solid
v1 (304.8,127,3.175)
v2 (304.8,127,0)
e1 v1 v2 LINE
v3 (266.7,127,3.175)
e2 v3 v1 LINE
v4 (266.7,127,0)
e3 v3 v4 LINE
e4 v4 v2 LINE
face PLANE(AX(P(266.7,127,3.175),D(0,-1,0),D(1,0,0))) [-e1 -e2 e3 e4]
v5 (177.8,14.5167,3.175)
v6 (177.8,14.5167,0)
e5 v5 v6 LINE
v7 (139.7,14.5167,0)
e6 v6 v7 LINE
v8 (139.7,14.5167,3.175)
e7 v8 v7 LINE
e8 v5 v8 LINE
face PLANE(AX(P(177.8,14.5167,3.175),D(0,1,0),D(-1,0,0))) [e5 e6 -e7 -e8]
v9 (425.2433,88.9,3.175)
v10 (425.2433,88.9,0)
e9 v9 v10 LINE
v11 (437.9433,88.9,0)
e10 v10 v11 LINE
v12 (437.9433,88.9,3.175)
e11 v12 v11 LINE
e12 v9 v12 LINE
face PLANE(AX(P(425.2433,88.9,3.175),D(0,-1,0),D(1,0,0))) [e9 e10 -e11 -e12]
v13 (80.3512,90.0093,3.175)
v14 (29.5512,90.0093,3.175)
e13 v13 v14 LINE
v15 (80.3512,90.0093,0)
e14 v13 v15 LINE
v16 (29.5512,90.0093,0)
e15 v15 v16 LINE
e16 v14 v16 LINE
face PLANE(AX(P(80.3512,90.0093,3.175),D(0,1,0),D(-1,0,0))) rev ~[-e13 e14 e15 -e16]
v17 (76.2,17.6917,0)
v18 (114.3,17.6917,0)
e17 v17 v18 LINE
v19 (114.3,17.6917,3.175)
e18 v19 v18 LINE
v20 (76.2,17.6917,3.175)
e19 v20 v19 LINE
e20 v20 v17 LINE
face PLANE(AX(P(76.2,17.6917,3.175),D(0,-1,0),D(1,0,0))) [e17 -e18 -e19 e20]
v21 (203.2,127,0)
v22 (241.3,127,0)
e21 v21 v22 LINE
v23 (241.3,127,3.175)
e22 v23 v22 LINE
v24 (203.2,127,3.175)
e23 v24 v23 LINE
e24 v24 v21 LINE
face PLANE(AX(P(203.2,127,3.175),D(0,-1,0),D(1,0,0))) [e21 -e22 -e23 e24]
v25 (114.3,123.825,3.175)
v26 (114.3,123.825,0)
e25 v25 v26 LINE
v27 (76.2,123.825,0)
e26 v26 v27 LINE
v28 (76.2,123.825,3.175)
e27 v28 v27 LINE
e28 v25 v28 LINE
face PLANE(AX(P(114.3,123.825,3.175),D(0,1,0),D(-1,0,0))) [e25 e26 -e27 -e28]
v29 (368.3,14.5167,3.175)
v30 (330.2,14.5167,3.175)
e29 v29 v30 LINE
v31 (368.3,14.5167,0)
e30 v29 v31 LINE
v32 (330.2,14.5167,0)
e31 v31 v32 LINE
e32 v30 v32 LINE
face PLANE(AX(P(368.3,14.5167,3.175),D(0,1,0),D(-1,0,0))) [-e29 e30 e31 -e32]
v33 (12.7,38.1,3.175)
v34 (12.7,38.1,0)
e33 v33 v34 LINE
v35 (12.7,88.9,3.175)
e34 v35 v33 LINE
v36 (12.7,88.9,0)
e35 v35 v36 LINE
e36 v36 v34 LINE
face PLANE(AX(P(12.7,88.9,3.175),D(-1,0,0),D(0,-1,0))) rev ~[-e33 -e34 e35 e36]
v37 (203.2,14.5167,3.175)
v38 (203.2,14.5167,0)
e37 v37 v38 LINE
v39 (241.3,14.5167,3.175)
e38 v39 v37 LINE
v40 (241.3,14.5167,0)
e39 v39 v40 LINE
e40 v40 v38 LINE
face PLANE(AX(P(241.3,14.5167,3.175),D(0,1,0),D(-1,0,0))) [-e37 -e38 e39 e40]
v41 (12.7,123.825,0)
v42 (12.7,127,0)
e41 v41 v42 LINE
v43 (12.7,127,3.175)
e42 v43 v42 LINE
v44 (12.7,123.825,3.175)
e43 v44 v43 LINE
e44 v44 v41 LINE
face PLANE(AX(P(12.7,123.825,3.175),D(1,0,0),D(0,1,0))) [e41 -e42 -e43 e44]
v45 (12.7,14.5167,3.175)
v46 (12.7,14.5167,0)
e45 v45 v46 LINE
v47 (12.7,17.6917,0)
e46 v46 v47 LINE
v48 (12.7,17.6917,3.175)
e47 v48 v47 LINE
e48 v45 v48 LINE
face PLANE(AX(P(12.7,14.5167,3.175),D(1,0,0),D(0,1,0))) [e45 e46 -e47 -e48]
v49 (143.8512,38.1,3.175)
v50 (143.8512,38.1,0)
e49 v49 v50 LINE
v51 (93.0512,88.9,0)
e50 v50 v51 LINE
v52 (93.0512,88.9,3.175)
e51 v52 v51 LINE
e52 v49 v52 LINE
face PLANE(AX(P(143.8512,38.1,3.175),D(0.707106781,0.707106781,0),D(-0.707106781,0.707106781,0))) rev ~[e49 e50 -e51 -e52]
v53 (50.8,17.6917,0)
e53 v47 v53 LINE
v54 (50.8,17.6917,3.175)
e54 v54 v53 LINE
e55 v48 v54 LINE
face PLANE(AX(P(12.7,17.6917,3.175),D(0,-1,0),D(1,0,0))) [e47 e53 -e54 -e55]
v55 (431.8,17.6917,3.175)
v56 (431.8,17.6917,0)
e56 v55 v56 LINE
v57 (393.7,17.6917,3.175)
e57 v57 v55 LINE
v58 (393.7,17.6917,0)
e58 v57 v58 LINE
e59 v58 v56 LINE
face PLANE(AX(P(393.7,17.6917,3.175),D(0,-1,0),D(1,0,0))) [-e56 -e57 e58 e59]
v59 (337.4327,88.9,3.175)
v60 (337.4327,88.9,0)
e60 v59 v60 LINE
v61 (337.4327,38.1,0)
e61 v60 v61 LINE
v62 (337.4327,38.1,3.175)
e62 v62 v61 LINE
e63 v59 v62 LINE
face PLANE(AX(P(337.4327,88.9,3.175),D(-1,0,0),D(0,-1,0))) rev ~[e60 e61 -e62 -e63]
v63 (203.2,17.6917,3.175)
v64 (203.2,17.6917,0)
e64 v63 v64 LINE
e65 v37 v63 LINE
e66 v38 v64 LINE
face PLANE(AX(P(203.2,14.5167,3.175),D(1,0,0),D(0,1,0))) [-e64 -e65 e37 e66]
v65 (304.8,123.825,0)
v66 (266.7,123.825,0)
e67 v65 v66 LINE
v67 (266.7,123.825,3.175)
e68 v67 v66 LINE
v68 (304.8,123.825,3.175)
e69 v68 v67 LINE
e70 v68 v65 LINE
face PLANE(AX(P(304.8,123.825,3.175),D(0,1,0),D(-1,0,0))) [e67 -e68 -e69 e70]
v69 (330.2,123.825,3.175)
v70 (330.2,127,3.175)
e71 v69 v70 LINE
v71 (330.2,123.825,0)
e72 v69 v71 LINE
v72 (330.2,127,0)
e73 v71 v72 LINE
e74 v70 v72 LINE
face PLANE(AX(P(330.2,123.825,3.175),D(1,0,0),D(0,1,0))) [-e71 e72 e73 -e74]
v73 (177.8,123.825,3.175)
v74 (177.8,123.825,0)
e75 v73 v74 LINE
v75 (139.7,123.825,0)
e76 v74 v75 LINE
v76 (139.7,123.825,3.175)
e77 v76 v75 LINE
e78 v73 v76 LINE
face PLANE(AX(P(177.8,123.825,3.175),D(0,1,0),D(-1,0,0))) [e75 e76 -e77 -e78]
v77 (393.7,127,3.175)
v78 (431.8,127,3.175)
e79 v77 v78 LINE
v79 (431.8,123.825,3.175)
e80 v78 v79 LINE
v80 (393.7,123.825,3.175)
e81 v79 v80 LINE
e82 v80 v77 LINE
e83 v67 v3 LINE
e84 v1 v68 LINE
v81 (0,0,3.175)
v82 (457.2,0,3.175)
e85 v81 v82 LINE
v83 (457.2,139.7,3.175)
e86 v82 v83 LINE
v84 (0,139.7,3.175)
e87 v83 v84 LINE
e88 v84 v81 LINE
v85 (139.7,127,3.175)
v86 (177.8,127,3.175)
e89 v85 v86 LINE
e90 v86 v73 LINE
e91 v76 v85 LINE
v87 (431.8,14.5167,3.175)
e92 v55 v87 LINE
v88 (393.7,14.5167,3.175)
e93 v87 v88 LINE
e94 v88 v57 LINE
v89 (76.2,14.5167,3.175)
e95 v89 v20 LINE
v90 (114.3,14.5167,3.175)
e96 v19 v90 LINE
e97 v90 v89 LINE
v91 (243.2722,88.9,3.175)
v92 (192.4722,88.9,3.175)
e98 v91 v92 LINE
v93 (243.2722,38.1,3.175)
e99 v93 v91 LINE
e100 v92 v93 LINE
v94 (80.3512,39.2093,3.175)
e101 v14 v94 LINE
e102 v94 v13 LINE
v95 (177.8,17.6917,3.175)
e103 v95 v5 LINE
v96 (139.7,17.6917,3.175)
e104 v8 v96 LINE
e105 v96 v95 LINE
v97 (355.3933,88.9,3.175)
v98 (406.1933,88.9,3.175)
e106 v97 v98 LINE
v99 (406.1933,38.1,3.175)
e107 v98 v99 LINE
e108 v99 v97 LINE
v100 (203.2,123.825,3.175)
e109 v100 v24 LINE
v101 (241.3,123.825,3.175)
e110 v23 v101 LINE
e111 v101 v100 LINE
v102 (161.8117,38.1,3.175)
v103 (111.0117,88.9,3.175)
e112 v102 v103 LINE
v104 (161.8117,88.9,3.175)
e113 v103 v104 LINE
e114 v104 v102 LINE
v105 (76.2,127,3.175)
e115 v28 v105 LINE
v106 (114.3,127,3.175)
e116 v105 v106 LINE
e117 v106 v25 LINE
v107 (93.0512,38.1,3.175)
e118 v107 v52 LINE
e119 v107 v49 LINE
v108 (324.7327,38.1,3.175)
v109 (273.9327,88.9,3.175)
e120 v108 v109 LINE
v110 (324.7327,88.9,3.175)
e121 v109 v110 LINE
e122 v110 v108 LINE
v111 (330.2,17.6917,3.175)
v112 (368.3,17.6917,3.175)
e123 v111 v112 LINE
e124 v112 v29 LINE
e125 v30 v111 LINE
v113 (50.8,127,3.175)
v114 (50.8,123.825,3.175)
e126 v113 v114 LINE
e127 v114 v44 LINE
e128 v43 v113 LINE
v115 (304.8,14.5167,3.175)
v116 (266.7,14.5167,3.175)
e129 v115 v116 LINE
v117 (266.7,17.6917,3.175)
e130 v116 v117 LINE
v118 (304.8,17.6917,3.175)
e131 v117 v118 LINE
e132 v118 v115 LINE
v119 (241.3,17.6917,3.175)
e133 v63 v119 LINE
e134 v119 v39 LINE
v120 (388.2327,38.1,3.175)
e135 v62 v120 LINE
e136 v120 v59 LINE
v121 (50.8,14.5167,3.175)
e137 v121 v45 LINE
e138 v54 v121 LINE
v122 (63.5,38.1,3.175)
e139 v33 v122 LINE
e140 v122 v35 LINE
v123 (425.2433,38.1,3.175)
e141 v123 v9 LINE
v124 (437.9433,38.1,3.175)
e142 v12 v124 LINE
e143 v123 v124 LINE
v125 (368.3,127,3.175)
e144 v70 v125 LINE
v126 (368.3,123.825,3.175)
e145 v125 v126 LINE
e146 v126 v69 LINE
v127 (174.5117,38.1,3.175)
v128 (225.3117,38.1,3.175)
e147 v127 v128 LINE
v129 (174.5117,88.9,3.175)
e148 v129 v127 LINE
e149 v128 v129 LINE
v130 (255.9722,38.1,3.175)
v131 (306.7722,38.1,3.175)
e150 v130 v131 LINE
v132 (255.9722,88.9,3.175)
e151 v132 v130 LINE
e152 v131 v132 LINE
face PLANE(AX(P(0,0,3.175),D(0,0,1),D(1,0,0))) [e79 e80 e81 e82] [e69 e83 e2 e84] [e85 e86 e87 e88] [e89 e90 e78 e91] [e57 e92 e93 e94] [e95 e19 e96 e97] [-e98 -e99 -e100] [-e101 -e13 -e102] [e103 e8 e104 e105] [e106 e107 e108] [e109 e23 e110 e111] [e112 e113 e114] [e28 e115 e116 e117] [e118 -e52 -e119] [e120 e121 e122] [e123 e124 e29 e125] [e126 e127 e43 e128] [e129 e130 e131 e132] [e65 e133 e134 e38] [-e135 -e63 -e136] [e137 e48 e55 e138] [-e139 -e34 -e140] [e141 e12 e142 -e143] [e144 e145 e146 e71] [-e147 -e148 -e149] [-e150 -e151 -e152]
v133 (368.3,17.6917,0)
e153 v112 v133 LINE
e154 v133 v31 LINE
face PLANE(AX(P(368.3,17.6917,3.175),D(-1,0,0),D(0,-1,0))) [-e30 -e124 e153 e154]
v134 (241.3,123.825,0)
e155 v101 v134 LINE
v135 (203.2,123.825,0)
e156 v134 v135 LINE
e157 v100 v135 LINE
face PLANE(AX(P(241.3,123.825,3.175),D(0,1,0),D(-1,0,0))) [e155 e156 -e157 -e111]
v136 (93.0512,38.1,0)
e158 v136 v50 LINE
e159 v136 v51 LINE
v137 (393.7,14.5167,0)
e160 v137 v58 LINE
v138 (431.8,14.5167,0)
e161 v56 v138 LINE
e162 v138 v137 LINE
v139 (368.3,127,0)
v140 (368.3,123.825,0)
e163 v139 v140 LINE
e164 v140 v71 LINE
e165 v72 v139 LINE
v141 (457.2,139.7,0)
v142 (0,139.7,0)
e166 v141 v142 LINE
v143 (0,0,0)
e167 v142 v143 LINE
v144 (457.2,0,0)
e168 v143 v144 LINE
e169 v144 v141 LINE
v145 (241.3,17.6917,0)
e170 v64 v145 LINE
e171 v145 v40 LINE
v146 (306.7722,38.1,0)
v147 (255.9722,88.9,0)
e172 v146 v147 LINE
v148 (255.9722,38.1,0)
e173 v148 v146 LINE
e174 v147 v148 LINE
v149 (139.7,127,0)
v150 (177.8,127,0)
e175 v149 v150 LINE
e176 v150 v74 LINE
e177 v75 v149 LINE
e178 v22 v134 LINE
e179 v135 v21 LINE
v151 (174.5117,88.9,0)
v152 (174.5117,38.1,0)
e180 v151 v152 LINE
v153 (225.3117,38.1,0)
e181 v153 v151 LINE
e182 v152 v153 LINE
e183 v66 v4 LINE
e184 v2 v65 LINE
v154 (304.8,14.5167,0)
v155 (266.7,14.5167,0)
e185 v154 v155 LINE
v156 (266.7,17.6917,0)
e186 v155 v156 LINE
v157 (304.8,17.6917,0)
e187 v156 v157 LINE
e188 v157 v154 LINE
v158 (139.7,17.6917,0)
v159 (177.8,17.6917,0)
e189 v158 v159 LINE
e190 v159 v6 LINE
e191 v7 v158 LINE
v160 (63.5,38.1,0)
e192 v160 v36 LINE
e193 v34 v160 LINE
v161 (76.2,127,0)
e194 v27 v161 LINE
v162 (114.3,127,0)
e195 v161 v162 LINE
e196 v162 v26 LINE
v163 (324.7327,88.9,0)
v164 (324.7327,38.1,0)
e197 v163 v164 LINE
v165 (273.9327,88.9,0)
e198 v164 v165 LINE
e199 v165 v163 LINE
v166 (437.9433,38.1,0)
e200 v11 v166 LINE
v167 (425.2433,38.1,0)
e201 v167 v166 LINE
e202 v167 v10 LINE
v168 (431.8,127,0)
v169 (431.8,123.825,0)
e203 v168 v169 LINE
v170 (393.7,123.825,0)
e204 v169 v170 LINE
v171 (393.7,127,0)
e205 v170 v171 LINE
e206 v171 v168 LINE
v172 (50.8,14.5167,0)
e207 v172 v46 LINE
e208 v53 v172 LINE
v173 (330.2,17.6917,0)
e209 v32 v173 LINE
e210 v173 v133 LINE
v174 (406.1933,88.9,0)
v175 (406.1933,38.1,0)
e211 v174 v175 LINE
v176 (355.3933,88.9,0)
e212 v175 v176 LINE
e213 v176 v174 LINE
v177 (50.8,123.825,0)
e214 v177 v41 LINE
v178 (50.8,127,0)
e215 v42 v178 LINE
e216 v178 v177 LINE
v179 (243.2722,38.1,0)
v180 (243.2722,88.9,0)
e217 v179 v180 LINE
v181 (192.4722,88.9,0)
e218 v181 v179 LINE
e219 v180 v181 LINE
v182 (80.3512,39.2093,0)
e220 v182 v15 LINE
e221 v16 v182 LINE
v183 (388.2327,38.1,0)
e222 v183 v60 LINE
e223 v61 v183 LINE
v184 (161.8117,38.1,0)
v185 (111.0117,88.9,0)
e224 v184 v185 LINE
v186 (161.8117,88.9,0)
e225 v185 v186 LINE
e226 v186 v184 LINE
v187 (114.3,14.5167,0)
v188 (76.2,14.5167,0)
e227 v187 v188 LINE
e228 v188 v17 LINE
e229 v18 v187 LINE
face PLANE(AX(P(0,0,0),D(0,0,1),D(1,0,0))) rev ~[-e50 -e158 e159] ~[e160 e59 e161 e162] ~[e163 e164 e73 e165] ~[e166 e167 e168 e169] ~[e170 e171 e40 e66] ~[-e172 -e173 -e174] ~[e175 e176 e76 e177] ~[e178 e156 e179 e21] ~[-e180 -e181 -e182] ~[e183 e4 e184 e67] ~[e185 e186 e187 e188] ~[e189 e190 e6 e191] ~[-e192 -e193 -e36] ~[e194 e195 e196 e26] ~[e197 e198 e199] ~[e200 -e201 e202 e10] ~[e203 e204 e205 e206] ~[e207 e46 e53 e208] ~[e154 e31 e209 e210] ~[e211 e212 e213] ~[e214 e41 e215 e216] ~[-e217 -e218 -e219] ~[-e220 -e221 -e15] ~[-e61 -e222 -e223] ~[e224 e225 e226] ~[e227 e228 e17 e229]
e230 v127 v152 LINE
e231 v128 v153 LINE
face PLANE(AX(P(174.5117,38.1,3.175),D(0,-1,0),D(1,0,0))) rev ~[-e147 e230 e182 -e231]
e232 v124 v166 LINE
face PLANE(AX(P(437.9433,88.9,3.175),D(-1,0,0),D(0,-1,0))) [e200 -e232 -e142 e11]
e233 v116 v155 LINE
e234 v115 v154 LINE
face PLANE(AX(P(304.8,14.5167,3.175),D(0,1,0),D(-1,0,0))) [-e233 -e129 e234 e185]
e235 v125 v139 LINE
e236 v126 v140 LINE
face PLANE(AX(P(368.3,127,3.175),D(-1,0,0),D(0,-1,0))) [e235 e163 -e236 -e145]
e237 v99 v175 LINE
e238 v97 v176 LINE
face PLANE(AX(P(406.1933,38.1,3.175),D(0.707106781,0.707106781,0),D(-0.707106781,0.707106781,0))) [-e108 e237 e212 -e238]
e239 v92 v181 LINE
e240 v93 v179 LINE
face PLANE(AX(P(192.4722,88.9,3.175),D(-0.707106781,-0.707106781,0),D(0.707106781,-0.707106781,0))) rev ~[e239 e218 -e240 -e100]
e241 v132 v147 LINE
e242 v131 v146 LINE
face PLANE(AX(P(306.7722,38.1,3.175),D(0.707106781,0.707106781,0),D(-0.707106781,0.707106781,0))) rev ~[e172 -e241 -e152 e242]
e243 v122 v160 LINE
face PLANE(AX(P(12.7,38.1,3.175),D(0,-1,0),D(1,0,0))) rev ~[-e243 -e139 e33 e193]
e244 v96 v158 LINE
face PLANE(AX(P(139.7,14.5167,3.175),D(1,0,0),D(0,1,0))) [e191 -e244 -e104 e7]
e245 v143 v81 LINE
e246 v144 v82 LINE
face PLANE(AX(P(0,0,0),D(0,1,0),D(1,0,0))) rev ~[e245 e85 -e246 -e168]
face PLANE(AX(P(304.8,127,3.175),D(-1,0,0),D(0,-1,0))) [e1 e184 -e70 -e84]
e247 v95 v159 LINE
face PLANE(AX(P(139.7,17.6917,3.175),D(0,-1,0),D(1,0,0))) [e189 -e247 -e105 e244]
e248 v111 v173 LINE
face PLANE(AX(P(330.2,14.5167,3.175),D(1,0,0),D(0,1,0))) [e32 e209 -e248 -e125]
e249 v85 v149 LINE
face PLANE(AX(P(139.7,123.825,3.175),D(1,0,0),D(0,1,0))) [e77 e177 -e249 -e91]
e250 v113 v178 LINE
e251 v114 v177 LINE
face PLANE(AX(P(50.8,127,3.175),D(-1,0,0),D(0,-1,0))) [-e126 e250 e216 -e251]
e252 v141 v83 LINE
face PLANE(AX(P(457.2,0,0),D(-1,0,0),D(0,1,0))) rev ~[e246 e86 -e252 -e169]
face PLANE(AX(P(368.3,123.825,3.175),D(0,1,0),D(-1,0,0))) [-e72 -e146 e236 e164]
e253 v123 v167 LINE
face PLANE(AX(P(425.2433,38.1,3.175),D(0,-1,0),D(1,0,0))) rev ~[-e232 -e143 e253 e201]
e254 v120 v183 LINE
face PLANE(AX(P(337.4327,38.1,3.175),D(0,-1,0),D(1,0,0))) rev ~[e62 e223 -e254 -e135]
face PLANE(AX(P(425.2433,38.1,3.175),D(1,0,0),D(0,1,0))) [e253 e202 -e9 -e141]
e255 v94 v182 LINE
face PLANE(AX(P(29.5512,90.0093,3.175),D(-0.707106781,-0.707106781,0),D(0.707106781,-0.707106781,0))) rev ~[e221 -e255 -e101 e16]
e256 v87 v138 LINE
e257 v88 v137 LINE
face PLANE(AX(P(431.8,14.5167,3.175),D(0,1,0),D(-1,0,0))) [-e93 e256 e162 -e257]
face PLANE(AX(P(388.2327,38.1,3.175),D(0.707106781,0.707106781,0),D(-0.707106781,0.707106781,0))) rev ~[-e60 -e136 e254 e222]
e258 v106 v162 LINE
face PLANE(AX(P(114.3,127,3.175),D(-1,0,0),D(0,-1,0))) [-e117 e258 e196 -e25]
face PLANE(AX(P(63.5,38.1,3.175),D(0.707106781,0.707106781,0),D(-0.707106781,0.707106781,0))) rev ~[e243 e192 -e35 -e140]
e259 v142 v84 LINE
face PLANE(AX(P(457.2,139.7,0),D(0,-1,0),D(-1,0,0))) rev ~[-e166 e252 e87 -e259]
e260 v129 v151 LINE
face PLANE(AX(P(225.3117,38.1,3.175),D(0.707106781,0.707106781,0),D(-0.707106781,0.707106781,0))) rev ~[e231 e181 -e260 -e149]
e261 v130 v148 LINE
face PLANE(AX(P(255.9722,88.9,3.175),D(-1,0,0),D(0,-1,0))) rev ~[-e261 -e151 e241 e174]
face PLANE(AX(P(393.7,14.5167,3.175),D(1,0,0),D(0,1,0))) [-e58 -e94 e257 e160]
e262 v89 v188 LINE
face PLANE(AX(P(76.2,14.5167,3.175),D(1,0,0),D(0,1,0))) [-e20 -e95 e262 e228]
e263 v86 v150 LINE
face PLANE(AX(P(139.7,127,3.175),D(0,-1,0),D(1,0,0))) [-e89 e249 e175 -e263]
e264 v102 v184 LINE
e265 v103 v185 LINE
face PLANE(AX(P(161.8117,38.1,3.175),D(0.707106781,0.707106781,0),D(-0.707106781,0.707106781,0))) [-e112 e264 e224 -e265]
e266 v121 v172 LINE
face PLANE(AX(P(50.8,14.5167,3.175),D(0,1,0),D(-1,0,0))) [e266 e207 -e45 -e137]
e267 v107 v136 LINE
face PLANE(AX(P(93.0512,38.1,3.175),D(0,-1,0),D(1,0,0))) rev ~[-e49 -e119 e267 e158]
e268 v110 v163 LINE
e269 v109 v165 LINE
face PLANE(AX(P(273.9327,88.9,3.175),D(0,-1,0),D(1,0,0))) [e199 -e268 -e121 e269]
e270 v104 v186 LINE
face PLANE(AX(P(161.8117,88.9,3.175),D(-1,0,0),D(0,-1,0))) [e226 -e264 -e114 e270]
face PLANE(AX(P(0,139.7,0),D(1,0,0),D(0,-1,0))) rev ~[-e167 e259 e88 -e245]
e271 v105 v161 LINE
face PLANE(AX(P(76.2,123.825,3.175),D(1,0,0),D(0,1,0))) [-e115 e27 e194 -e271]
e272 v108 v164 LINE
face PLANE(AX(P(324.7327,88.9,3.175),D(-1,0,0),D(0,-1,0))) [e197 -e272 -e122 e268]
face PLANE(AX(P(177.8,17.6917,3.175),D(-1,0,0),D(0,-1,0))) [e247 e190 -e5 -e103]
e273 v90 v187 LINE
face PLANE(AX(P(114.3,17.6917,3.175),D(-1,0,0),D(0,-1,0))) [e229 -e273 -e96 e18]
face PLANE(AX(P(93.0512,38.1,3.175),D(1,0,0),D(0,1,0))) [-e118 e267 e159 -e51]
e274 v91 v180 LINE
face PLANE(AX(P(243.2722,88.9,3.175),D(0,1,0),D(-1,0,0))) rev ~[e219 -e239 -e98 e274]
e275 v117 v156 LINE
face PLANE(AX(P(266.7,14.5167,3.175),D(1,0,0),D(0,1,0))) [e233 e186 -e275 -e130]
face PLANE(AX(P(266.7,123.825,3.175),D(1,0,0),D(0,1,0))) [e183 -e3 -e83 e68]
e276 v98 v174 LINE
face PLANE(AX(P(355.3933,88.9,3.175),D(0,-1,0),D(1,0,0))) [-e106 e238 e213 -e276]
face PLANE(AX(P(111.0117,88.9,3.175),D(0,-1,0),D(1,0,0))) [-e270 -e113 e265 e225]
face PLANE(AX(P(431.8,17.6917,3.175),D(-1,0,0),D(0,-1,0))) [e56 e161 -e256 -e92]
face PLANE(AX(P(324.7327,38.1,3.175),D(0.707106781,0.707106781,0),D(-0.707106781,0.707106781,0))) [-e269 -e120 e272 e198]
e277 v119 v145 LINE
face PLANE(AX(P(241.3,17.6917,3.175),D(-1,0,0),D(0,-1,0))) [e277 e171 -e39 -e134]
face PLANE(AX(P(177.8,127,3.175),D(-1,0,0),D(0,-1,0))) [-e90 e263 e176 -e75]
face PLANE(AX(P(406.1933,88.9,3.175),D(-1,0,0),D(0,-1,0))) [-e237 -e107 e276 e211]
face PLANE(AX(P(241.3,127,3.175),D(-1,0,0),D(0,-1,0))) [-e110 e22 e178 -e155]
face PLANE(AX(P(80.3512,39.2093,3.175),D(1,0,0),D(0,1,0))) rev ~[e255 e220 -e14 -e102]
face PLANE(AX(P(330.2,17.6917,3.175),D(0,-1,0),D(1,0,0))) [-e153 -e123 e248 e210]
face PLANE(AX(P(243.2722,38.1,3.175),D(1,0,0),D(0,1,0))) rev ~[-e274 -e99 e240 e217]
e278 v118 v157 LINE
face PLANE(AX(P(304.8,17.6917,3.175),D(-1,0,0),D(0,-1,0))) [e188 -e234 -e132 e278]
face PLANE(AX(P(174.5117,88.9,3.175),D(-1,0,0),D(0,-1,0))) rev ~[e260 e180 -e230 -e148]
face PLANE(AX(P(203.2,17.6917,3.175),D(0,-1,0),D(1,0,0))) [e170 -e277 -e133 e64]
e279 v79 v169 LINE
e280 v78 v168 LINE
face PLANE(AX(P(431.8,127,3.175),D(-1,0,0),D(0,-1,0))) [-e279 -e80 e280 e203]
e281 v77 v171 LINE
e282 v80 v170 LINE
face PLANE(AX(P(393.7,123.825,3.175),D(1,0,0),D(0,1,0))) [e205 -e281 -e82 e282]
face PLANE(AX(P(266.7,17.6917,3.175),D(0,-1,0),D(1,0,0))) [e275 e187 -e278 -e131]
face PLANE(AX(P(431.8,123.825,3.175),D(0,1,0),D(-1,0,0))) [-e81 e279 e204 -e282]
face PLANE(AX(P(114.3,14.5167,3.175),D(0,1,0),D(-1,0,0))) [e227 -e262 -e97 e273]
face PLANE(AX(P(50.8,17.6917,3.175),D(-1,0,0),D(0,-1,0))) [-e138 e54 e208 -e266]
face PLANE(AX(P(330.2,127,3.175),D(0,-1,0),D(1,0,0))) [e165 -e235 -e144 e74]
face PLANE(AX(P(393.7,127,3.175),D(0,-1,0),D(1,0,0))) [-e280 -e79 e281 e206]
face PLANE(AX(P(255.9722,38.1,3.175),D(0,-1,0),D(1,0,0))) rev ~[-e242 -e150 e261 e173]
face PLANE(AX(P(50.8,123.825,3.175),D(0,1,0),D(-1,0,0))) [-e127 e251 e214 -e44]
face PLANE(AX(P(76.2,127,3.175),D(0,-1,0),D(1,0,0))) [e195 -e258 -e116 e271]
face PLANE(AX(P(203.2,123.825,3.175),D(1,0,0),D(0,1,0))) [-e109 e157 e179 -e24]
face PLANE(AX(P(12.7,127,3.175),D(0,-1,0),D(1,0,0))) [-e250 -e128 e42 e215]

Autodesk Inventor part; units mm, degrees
ref_plane "YZ Plane" through (0, 0, 0) normal (1, 0, 0) x (0, 1, 0)
ref_plane "XZ Plane" through (0, 0, 0) normal (0, 1, 0) x (-1, 0, 0)
ref_plane "XY Plane" through (0, 0, 0) normal (0, 0, 1) x (1, 0, 0)
sketch "Sketch1" plane through (0, 0, 0) normal (0, 0, 1) x (1, 0, 0)
  line L0 (0, 0) -> (457.2, 0)
  line L1 (457.2, 0) -> (457.2, 139.7)
  line L2 (457.2, 139.7) -> (0, 139.7)
  line L3 (0, 139.7) -> (0, 0)
  dimension "d0" = 457.2
  dimension "d1" = 139.7
extrude "Extrusion1" add sketch "Sketch1" along normal blind 3.175
sketch "Sketch2" plane through (0, 0, 3.175) normal (0, 0, 1) x (1, 0, 0)
  line L0 (0, 139.7) -> (0, 0) projected
  line L1 (0, 114.3) -> (457.2, 114.3)
  line L2 (457.2, 139.7) -> (0, 139.7) projected
  line L3 (0, 38.1) -> (457.2, 38.1)
  line L4 (457.2, 0) -> (457.2, 139.7) projected
  line L5 (0, 0) -> (457.2, 0) projected
  line L6 (12.7, 17.6917) -> (50.8, 17.6917)
  line L7 (50.8, 17.6917) -> (50.8, 14.5167)
  line L8 (50.8, 14.5167) -> (12.7, 14.5167)
  line L9 (12.7, 14.5167) -> (12.7, 17.6917)
  line L10 (12.7, 127) -> (50.8, 127)
  line L11 (50.8, 127) -> (50.8, 123.825)
  line L12 (50.8, 123.825) -> (12.7, 123.825)
  line L13 (12.7, 123.825) -> (12.7, 127)
  line L14 (76.2, 127) -> (114.3, 127)
  line L15 (114.3, 127) -> (114.3, 123.825)
  line L16 (114.3, 123.825) -> (76.2, 123.825)
  line L17 (76.2, 123.825) -> (76.2, 127)
  line L18 (139.7, 127) -> (177.8, 127)
  line L19 (177.8, 127) -> (177.8, 123.825)
  line L20 (177.8, 123.825) -> (139.7, 123.825)
  line L21 (139.7, 123.825) -> (139.7, 127)
  line L22 (203.2, 127) -> (241.3, 127)
  line L23 (241.3, 127) -> (241.3, 123.825)
  line L24 (241.3, 123.825) -> (203.2, 123.825)
  line L25 (203.2, 123.825) -> (203.2, 127)
  line L26 (266.7, 127) -> (304.8, 127)
  line L27 (304.8, 127) -> (304.8, 123.825)
  line L28 (304.8, 123.825) -> (266.7, 123.825)
  line L29 (266.7, 123.825) -> (266.7, 127)
  line L30 (330.2, 127) -> (368.3, 127)
  line L31 (368.3, 127) -> (368.3, 123.825)
  line L32 (368.3, 123.825) -> (330.2, 123.825)
  line L33 (330.2, 123.825) -> (330.2, 127)
  line L34 (393.7, 127) -> (431.8, 127)
  line L35 (431.8, 127) -> (431.8, 123.825)
  line L36 (431.8, 123.825) -> (393.7, 123.825)
  line L37 (393.7, 123.825) -> (393.7, 127)
  line L38 (76.2, 17.6917) -> (114.3, 17.6917)
  line L39 (114.3, 17.6917) -> (114.3, 14.5167)
  line L40 (114.3, 14.5167) -> (76.2, 14.5167)
  line L41 (76.2, 14.5167) -> (76.2, 17.6917)
  line L42 (139.7, 17.6917) -> (177.8, 17.6917)
  line L43 (177.8, 17.6917) -> (177.8, 14.5167)
  line L44 (177.8, 14.5167) -> (139.7, 14.5167)
  line L45 (139.7, 14.5167) -> (139.7, 17.6917)
  line L46 (203.2, 17.6917) -> (241.3, 17.6917)
  line L47 (241.3, 17.6917) -> (241.3, 14.5167)
  line L48 (241.3, 14.5167) -> (203.2, 14.5167)
  line L49 (203.2, 14.5167) -> (203.2, 17.6917)
  line L50 (266.7, 17.6917) -> (304.8, 17.6917)
  line L51 (304.8, 17.6917) -> (304.8, 14.5167)
  line L52 (304.8, 14.5167) -> (266.7, 14.5167)
  line L53 (266.7, 14.5167) -> (266.7, 17.6917)
  line L54 (330.2, 17.6917) -> (368.3, 17.6917)
  line L55 (368.3, 17.6917) -> (368.3, 14.5167)
  line L56 (368.3, 14.5167) -> (330.2, 14.5167)
  line L57 (330.2, 14.5167) -> (330.2, 17.6917)
  line L58 (393.7, 17.6917) -> (431.8, 17.6917)
  line L59 (431.8, 17.6917) -> (431.8, 14.5167)
  line L60 (431.8, 14.5167) -> (393.7, 14.5167)
  line L61 (393.7, 14.5167) -> (393.7, 17.6917)
  dimension "d106" = 3.175
  dimension "d107" = 25.4
  dimension "d108" = 25.4
  dimension "d109" = 12.7
  dimension "d110" = 12.7
  dimension "d111" = 25.4
  dimension "d112" = 12.7
  dimension "d113" = 25.4
  dimension "d114" = 12.7
  dimension "d115" = 25.4
  dimension "d116" = 12.7
  dimension "d117" = 25.4
  dimension "d118" = 12.7
  dimension "d119" = 25.4
  dimension "d120" = 12.7
  dimension "d121" = 12.7
  dimension "d122" = 38.1
  dimension "d123" = 38.1
  dimension "d124" = 38.1
  dimension "d125" = 38.1
  dimension "d126" = 38.1
  dimension "d127" = 38.1
  dimension "d128" = 3.175
  dimension "d129" = 3.175
  dimension "d130" = 3.175
  dimension "d131" = 3.175
  dimension "d132" = 3.175
  dimension "d133" = 3.175
  dimension "d134" = 25.4
  dimension "d135" = 38.1
  dimension "d136" = 25.4
  dimension "d137" = 38.1
  dimension "d138" = 25.4
  dimension "d139" = 38.1
  dimension "d140" = 25.4
  dimension "d141" = 38.1
  dimension "d142" = 25.4
  dimension "d143" = 38.1
  dimension "d144" = 25.4
  dimension "d145" = 38.1
  dimension "d146" = 25.4
  dimension "d147" = 38.1
  dimension "d148" = 14.5167
  dimension "d150" = 14.5167
  dimension "d151" = 3.175
  dimension "d152" = 3.175
extrude "Extrusion2" cut sketch "Sketch2" against normal through all contours L6 L7 L8 L9 | L10 L11 L12 L13 | L14 L15 L16 L17 | L18 L19 L20 L21 | L22 L23 L24 L25 | L26 L27 L28 L29 | L30 L31 L32 L33 | L34 L35 L36 L37 | L38 L39 L40 L41 | L42 L43 L44 L45 | L46 L47 L48 L49 | L50 L51 L52 L53 | L54 L55 L56 L57 | L58 L59 L60 L61
sketch "Sketch3" plane through (0, 0, 3.175) normal (0, 0, 1) x (1, 0, 0)
  line L0 (0, 139.7) -> (0, 0) projected
  line L1 (0, 38.1) -> (457.2, 38.1)
  line L2 (457.2, 0) -> (457.2, 139.7) projected
  line L3 (0, 0) -> (457.2, 0) projected
  line L4 (0, 101.6) -> (457.2, 101.6)
  line L5 (457.2, 139.7) -> (0, 139.7) projected
  line L6 (12.7, 88.9) -> (12.7, 38.1)
  line L7 (12.7, 38.1) -> (63.5, 38.1)
  line L8 (63.5, 38.1) -> (12.7, 88.9)
  line L9 (29.5512, 90.0093) -> (80.3512, 39.2093)
  line L10 (80.3512, 39.2093) -> (80.3512, 90.0093)
  line L11 (80.3512, 90.0093) -> (29.5512, 90.0093)
  line L12 (93.0512, 38.1) -> (93.0512, 88.9)
  line L13 (93.0512, 38.1) -> (143.8512, 38.1)
  line L14 (143.8512, 38.1) -> (93.0512, 88.9)
  line L15 (111.0117, 88.9) -> (161.8117, 88.9)
  line L16 (161.8117, 88.9) -> (161.8117, 38.1)
  line L17 (161.8117, 38.1) -> (111.0117, 88.9)
  line L18 (174.5117, 88.9) -> (174.5117, 38.1)
  line L19 (174.5117, 38.1) -> (225.3117, 38.1)
  line L20 (225.3117, 38.1) -> (174.5117, 88.9)
  line L21 (243.2722, 38.1) -> (243.2722, 88.9)
  line L22 (243.2722, 88.9) -> (192.4722, 88.9)
  line L23 (192.4722, 88.9) -> (243.2722, 38.1)
  line L24 (255.9722, 88.9) -> (255.9722, 38.1)
  line L25 (255.9722, 38.1) -> (306.7722, 38.1)
  line L26 (306.7722, 38.1) -> (255.9722, 88.9)
  line L27 (273.9327, 88.9) -> (324.7327, 88.9)
  line L28 (324.7327, 88.9) -> (324.7327, 38.1)
  line L29 (324.7327, 38.1) -> (273.9327, 88.9)
  line L30 (337.4327, 88.9) -> (337.4327, 38.1)
  line L31 (337.4327, 38.1) -> (388.2327, 38.1)
  line L32 (388.2327, 38.1) -> (337.4327, 88.9)
  line L33 (355.3933, 88.9) -> (406.1933, 88.9)
  line L34 (406.1933, 88.9) -> (406.1933, 38.1)
  line L35 (406.1933, 38.1) -> (355.3933, 88.9)
  line L36 (425.2433, 88.9) -> (437.9433, 88.9)
  line L37 (437.9433, 88.9) -> (437.9433, 38.1)
  line L38 (437.9433, 38.1) -> (425.2433, 38.1)
  line L39 (425.2433, 38.1) -> (425.2433, 88.9)
  point P0 (355.3933, 88.9)
  dimension "d43" = 38.1
  dimension "d44" = 38.1
  dimension "d47" = 12.7
  dimension "d49" = 50.8
  dimension "d52" = 12.7
  dimension "d55" = 50.8
  dimension "d62" = 50.8
  dimension "d64" = 12.7
  dimension "d65" = 12.7
  dimension "d66" = 50.8
  dimension "d67" = 50.8
  dimension "d68" = 12.7
  dimension "d69" = 12.7
  dimension "d71" = 50.8
  dimension "d72" = 50.8
  dimension "d73" = 12.7
  dimension "d74" = 12.7
  dimension "d75" = 50.8
  dimension "d76" = 12.7
  dimension "d77" = 12.7
  dimension "d78" = 50.8
  dimension "d79" = 50.8
  dimension "d80" = 12.7
  dimension "d81" = 12.7
  dimension "d82" = 50.8
  dimension "d83" = 50.8
  dimension "d84" = 12.7
  dimension "d85" = 12.7
  dimension "d86" = 50.8
  dimension "d87" = 50.8
  dimension "d89" = 12.7
  dimension "d90" = 12.7
  dimension "d91" = 12.7
  dimension "d92" = 50.8
  dimension "d93" = 50.8
  dimension "d94" = 50.8
  dimension "d96" = 19.05
  dimension "d153" = 0
  dimension "d154" = 0
extrude "Extrusion3" cut sketch "Sketch3" against normal through all contours L17 L15 L16 | L23 L22 L21 | L29 L27 L28 | L35 L33 L34 | L6 L8 L1 | L1 L39 L36 L37 | L12 L14 L1 | L1 L30 L32 | L18 L20 L1 | L1 L24 L26 | L11 L10 L9
properties part number "Bridge2"
